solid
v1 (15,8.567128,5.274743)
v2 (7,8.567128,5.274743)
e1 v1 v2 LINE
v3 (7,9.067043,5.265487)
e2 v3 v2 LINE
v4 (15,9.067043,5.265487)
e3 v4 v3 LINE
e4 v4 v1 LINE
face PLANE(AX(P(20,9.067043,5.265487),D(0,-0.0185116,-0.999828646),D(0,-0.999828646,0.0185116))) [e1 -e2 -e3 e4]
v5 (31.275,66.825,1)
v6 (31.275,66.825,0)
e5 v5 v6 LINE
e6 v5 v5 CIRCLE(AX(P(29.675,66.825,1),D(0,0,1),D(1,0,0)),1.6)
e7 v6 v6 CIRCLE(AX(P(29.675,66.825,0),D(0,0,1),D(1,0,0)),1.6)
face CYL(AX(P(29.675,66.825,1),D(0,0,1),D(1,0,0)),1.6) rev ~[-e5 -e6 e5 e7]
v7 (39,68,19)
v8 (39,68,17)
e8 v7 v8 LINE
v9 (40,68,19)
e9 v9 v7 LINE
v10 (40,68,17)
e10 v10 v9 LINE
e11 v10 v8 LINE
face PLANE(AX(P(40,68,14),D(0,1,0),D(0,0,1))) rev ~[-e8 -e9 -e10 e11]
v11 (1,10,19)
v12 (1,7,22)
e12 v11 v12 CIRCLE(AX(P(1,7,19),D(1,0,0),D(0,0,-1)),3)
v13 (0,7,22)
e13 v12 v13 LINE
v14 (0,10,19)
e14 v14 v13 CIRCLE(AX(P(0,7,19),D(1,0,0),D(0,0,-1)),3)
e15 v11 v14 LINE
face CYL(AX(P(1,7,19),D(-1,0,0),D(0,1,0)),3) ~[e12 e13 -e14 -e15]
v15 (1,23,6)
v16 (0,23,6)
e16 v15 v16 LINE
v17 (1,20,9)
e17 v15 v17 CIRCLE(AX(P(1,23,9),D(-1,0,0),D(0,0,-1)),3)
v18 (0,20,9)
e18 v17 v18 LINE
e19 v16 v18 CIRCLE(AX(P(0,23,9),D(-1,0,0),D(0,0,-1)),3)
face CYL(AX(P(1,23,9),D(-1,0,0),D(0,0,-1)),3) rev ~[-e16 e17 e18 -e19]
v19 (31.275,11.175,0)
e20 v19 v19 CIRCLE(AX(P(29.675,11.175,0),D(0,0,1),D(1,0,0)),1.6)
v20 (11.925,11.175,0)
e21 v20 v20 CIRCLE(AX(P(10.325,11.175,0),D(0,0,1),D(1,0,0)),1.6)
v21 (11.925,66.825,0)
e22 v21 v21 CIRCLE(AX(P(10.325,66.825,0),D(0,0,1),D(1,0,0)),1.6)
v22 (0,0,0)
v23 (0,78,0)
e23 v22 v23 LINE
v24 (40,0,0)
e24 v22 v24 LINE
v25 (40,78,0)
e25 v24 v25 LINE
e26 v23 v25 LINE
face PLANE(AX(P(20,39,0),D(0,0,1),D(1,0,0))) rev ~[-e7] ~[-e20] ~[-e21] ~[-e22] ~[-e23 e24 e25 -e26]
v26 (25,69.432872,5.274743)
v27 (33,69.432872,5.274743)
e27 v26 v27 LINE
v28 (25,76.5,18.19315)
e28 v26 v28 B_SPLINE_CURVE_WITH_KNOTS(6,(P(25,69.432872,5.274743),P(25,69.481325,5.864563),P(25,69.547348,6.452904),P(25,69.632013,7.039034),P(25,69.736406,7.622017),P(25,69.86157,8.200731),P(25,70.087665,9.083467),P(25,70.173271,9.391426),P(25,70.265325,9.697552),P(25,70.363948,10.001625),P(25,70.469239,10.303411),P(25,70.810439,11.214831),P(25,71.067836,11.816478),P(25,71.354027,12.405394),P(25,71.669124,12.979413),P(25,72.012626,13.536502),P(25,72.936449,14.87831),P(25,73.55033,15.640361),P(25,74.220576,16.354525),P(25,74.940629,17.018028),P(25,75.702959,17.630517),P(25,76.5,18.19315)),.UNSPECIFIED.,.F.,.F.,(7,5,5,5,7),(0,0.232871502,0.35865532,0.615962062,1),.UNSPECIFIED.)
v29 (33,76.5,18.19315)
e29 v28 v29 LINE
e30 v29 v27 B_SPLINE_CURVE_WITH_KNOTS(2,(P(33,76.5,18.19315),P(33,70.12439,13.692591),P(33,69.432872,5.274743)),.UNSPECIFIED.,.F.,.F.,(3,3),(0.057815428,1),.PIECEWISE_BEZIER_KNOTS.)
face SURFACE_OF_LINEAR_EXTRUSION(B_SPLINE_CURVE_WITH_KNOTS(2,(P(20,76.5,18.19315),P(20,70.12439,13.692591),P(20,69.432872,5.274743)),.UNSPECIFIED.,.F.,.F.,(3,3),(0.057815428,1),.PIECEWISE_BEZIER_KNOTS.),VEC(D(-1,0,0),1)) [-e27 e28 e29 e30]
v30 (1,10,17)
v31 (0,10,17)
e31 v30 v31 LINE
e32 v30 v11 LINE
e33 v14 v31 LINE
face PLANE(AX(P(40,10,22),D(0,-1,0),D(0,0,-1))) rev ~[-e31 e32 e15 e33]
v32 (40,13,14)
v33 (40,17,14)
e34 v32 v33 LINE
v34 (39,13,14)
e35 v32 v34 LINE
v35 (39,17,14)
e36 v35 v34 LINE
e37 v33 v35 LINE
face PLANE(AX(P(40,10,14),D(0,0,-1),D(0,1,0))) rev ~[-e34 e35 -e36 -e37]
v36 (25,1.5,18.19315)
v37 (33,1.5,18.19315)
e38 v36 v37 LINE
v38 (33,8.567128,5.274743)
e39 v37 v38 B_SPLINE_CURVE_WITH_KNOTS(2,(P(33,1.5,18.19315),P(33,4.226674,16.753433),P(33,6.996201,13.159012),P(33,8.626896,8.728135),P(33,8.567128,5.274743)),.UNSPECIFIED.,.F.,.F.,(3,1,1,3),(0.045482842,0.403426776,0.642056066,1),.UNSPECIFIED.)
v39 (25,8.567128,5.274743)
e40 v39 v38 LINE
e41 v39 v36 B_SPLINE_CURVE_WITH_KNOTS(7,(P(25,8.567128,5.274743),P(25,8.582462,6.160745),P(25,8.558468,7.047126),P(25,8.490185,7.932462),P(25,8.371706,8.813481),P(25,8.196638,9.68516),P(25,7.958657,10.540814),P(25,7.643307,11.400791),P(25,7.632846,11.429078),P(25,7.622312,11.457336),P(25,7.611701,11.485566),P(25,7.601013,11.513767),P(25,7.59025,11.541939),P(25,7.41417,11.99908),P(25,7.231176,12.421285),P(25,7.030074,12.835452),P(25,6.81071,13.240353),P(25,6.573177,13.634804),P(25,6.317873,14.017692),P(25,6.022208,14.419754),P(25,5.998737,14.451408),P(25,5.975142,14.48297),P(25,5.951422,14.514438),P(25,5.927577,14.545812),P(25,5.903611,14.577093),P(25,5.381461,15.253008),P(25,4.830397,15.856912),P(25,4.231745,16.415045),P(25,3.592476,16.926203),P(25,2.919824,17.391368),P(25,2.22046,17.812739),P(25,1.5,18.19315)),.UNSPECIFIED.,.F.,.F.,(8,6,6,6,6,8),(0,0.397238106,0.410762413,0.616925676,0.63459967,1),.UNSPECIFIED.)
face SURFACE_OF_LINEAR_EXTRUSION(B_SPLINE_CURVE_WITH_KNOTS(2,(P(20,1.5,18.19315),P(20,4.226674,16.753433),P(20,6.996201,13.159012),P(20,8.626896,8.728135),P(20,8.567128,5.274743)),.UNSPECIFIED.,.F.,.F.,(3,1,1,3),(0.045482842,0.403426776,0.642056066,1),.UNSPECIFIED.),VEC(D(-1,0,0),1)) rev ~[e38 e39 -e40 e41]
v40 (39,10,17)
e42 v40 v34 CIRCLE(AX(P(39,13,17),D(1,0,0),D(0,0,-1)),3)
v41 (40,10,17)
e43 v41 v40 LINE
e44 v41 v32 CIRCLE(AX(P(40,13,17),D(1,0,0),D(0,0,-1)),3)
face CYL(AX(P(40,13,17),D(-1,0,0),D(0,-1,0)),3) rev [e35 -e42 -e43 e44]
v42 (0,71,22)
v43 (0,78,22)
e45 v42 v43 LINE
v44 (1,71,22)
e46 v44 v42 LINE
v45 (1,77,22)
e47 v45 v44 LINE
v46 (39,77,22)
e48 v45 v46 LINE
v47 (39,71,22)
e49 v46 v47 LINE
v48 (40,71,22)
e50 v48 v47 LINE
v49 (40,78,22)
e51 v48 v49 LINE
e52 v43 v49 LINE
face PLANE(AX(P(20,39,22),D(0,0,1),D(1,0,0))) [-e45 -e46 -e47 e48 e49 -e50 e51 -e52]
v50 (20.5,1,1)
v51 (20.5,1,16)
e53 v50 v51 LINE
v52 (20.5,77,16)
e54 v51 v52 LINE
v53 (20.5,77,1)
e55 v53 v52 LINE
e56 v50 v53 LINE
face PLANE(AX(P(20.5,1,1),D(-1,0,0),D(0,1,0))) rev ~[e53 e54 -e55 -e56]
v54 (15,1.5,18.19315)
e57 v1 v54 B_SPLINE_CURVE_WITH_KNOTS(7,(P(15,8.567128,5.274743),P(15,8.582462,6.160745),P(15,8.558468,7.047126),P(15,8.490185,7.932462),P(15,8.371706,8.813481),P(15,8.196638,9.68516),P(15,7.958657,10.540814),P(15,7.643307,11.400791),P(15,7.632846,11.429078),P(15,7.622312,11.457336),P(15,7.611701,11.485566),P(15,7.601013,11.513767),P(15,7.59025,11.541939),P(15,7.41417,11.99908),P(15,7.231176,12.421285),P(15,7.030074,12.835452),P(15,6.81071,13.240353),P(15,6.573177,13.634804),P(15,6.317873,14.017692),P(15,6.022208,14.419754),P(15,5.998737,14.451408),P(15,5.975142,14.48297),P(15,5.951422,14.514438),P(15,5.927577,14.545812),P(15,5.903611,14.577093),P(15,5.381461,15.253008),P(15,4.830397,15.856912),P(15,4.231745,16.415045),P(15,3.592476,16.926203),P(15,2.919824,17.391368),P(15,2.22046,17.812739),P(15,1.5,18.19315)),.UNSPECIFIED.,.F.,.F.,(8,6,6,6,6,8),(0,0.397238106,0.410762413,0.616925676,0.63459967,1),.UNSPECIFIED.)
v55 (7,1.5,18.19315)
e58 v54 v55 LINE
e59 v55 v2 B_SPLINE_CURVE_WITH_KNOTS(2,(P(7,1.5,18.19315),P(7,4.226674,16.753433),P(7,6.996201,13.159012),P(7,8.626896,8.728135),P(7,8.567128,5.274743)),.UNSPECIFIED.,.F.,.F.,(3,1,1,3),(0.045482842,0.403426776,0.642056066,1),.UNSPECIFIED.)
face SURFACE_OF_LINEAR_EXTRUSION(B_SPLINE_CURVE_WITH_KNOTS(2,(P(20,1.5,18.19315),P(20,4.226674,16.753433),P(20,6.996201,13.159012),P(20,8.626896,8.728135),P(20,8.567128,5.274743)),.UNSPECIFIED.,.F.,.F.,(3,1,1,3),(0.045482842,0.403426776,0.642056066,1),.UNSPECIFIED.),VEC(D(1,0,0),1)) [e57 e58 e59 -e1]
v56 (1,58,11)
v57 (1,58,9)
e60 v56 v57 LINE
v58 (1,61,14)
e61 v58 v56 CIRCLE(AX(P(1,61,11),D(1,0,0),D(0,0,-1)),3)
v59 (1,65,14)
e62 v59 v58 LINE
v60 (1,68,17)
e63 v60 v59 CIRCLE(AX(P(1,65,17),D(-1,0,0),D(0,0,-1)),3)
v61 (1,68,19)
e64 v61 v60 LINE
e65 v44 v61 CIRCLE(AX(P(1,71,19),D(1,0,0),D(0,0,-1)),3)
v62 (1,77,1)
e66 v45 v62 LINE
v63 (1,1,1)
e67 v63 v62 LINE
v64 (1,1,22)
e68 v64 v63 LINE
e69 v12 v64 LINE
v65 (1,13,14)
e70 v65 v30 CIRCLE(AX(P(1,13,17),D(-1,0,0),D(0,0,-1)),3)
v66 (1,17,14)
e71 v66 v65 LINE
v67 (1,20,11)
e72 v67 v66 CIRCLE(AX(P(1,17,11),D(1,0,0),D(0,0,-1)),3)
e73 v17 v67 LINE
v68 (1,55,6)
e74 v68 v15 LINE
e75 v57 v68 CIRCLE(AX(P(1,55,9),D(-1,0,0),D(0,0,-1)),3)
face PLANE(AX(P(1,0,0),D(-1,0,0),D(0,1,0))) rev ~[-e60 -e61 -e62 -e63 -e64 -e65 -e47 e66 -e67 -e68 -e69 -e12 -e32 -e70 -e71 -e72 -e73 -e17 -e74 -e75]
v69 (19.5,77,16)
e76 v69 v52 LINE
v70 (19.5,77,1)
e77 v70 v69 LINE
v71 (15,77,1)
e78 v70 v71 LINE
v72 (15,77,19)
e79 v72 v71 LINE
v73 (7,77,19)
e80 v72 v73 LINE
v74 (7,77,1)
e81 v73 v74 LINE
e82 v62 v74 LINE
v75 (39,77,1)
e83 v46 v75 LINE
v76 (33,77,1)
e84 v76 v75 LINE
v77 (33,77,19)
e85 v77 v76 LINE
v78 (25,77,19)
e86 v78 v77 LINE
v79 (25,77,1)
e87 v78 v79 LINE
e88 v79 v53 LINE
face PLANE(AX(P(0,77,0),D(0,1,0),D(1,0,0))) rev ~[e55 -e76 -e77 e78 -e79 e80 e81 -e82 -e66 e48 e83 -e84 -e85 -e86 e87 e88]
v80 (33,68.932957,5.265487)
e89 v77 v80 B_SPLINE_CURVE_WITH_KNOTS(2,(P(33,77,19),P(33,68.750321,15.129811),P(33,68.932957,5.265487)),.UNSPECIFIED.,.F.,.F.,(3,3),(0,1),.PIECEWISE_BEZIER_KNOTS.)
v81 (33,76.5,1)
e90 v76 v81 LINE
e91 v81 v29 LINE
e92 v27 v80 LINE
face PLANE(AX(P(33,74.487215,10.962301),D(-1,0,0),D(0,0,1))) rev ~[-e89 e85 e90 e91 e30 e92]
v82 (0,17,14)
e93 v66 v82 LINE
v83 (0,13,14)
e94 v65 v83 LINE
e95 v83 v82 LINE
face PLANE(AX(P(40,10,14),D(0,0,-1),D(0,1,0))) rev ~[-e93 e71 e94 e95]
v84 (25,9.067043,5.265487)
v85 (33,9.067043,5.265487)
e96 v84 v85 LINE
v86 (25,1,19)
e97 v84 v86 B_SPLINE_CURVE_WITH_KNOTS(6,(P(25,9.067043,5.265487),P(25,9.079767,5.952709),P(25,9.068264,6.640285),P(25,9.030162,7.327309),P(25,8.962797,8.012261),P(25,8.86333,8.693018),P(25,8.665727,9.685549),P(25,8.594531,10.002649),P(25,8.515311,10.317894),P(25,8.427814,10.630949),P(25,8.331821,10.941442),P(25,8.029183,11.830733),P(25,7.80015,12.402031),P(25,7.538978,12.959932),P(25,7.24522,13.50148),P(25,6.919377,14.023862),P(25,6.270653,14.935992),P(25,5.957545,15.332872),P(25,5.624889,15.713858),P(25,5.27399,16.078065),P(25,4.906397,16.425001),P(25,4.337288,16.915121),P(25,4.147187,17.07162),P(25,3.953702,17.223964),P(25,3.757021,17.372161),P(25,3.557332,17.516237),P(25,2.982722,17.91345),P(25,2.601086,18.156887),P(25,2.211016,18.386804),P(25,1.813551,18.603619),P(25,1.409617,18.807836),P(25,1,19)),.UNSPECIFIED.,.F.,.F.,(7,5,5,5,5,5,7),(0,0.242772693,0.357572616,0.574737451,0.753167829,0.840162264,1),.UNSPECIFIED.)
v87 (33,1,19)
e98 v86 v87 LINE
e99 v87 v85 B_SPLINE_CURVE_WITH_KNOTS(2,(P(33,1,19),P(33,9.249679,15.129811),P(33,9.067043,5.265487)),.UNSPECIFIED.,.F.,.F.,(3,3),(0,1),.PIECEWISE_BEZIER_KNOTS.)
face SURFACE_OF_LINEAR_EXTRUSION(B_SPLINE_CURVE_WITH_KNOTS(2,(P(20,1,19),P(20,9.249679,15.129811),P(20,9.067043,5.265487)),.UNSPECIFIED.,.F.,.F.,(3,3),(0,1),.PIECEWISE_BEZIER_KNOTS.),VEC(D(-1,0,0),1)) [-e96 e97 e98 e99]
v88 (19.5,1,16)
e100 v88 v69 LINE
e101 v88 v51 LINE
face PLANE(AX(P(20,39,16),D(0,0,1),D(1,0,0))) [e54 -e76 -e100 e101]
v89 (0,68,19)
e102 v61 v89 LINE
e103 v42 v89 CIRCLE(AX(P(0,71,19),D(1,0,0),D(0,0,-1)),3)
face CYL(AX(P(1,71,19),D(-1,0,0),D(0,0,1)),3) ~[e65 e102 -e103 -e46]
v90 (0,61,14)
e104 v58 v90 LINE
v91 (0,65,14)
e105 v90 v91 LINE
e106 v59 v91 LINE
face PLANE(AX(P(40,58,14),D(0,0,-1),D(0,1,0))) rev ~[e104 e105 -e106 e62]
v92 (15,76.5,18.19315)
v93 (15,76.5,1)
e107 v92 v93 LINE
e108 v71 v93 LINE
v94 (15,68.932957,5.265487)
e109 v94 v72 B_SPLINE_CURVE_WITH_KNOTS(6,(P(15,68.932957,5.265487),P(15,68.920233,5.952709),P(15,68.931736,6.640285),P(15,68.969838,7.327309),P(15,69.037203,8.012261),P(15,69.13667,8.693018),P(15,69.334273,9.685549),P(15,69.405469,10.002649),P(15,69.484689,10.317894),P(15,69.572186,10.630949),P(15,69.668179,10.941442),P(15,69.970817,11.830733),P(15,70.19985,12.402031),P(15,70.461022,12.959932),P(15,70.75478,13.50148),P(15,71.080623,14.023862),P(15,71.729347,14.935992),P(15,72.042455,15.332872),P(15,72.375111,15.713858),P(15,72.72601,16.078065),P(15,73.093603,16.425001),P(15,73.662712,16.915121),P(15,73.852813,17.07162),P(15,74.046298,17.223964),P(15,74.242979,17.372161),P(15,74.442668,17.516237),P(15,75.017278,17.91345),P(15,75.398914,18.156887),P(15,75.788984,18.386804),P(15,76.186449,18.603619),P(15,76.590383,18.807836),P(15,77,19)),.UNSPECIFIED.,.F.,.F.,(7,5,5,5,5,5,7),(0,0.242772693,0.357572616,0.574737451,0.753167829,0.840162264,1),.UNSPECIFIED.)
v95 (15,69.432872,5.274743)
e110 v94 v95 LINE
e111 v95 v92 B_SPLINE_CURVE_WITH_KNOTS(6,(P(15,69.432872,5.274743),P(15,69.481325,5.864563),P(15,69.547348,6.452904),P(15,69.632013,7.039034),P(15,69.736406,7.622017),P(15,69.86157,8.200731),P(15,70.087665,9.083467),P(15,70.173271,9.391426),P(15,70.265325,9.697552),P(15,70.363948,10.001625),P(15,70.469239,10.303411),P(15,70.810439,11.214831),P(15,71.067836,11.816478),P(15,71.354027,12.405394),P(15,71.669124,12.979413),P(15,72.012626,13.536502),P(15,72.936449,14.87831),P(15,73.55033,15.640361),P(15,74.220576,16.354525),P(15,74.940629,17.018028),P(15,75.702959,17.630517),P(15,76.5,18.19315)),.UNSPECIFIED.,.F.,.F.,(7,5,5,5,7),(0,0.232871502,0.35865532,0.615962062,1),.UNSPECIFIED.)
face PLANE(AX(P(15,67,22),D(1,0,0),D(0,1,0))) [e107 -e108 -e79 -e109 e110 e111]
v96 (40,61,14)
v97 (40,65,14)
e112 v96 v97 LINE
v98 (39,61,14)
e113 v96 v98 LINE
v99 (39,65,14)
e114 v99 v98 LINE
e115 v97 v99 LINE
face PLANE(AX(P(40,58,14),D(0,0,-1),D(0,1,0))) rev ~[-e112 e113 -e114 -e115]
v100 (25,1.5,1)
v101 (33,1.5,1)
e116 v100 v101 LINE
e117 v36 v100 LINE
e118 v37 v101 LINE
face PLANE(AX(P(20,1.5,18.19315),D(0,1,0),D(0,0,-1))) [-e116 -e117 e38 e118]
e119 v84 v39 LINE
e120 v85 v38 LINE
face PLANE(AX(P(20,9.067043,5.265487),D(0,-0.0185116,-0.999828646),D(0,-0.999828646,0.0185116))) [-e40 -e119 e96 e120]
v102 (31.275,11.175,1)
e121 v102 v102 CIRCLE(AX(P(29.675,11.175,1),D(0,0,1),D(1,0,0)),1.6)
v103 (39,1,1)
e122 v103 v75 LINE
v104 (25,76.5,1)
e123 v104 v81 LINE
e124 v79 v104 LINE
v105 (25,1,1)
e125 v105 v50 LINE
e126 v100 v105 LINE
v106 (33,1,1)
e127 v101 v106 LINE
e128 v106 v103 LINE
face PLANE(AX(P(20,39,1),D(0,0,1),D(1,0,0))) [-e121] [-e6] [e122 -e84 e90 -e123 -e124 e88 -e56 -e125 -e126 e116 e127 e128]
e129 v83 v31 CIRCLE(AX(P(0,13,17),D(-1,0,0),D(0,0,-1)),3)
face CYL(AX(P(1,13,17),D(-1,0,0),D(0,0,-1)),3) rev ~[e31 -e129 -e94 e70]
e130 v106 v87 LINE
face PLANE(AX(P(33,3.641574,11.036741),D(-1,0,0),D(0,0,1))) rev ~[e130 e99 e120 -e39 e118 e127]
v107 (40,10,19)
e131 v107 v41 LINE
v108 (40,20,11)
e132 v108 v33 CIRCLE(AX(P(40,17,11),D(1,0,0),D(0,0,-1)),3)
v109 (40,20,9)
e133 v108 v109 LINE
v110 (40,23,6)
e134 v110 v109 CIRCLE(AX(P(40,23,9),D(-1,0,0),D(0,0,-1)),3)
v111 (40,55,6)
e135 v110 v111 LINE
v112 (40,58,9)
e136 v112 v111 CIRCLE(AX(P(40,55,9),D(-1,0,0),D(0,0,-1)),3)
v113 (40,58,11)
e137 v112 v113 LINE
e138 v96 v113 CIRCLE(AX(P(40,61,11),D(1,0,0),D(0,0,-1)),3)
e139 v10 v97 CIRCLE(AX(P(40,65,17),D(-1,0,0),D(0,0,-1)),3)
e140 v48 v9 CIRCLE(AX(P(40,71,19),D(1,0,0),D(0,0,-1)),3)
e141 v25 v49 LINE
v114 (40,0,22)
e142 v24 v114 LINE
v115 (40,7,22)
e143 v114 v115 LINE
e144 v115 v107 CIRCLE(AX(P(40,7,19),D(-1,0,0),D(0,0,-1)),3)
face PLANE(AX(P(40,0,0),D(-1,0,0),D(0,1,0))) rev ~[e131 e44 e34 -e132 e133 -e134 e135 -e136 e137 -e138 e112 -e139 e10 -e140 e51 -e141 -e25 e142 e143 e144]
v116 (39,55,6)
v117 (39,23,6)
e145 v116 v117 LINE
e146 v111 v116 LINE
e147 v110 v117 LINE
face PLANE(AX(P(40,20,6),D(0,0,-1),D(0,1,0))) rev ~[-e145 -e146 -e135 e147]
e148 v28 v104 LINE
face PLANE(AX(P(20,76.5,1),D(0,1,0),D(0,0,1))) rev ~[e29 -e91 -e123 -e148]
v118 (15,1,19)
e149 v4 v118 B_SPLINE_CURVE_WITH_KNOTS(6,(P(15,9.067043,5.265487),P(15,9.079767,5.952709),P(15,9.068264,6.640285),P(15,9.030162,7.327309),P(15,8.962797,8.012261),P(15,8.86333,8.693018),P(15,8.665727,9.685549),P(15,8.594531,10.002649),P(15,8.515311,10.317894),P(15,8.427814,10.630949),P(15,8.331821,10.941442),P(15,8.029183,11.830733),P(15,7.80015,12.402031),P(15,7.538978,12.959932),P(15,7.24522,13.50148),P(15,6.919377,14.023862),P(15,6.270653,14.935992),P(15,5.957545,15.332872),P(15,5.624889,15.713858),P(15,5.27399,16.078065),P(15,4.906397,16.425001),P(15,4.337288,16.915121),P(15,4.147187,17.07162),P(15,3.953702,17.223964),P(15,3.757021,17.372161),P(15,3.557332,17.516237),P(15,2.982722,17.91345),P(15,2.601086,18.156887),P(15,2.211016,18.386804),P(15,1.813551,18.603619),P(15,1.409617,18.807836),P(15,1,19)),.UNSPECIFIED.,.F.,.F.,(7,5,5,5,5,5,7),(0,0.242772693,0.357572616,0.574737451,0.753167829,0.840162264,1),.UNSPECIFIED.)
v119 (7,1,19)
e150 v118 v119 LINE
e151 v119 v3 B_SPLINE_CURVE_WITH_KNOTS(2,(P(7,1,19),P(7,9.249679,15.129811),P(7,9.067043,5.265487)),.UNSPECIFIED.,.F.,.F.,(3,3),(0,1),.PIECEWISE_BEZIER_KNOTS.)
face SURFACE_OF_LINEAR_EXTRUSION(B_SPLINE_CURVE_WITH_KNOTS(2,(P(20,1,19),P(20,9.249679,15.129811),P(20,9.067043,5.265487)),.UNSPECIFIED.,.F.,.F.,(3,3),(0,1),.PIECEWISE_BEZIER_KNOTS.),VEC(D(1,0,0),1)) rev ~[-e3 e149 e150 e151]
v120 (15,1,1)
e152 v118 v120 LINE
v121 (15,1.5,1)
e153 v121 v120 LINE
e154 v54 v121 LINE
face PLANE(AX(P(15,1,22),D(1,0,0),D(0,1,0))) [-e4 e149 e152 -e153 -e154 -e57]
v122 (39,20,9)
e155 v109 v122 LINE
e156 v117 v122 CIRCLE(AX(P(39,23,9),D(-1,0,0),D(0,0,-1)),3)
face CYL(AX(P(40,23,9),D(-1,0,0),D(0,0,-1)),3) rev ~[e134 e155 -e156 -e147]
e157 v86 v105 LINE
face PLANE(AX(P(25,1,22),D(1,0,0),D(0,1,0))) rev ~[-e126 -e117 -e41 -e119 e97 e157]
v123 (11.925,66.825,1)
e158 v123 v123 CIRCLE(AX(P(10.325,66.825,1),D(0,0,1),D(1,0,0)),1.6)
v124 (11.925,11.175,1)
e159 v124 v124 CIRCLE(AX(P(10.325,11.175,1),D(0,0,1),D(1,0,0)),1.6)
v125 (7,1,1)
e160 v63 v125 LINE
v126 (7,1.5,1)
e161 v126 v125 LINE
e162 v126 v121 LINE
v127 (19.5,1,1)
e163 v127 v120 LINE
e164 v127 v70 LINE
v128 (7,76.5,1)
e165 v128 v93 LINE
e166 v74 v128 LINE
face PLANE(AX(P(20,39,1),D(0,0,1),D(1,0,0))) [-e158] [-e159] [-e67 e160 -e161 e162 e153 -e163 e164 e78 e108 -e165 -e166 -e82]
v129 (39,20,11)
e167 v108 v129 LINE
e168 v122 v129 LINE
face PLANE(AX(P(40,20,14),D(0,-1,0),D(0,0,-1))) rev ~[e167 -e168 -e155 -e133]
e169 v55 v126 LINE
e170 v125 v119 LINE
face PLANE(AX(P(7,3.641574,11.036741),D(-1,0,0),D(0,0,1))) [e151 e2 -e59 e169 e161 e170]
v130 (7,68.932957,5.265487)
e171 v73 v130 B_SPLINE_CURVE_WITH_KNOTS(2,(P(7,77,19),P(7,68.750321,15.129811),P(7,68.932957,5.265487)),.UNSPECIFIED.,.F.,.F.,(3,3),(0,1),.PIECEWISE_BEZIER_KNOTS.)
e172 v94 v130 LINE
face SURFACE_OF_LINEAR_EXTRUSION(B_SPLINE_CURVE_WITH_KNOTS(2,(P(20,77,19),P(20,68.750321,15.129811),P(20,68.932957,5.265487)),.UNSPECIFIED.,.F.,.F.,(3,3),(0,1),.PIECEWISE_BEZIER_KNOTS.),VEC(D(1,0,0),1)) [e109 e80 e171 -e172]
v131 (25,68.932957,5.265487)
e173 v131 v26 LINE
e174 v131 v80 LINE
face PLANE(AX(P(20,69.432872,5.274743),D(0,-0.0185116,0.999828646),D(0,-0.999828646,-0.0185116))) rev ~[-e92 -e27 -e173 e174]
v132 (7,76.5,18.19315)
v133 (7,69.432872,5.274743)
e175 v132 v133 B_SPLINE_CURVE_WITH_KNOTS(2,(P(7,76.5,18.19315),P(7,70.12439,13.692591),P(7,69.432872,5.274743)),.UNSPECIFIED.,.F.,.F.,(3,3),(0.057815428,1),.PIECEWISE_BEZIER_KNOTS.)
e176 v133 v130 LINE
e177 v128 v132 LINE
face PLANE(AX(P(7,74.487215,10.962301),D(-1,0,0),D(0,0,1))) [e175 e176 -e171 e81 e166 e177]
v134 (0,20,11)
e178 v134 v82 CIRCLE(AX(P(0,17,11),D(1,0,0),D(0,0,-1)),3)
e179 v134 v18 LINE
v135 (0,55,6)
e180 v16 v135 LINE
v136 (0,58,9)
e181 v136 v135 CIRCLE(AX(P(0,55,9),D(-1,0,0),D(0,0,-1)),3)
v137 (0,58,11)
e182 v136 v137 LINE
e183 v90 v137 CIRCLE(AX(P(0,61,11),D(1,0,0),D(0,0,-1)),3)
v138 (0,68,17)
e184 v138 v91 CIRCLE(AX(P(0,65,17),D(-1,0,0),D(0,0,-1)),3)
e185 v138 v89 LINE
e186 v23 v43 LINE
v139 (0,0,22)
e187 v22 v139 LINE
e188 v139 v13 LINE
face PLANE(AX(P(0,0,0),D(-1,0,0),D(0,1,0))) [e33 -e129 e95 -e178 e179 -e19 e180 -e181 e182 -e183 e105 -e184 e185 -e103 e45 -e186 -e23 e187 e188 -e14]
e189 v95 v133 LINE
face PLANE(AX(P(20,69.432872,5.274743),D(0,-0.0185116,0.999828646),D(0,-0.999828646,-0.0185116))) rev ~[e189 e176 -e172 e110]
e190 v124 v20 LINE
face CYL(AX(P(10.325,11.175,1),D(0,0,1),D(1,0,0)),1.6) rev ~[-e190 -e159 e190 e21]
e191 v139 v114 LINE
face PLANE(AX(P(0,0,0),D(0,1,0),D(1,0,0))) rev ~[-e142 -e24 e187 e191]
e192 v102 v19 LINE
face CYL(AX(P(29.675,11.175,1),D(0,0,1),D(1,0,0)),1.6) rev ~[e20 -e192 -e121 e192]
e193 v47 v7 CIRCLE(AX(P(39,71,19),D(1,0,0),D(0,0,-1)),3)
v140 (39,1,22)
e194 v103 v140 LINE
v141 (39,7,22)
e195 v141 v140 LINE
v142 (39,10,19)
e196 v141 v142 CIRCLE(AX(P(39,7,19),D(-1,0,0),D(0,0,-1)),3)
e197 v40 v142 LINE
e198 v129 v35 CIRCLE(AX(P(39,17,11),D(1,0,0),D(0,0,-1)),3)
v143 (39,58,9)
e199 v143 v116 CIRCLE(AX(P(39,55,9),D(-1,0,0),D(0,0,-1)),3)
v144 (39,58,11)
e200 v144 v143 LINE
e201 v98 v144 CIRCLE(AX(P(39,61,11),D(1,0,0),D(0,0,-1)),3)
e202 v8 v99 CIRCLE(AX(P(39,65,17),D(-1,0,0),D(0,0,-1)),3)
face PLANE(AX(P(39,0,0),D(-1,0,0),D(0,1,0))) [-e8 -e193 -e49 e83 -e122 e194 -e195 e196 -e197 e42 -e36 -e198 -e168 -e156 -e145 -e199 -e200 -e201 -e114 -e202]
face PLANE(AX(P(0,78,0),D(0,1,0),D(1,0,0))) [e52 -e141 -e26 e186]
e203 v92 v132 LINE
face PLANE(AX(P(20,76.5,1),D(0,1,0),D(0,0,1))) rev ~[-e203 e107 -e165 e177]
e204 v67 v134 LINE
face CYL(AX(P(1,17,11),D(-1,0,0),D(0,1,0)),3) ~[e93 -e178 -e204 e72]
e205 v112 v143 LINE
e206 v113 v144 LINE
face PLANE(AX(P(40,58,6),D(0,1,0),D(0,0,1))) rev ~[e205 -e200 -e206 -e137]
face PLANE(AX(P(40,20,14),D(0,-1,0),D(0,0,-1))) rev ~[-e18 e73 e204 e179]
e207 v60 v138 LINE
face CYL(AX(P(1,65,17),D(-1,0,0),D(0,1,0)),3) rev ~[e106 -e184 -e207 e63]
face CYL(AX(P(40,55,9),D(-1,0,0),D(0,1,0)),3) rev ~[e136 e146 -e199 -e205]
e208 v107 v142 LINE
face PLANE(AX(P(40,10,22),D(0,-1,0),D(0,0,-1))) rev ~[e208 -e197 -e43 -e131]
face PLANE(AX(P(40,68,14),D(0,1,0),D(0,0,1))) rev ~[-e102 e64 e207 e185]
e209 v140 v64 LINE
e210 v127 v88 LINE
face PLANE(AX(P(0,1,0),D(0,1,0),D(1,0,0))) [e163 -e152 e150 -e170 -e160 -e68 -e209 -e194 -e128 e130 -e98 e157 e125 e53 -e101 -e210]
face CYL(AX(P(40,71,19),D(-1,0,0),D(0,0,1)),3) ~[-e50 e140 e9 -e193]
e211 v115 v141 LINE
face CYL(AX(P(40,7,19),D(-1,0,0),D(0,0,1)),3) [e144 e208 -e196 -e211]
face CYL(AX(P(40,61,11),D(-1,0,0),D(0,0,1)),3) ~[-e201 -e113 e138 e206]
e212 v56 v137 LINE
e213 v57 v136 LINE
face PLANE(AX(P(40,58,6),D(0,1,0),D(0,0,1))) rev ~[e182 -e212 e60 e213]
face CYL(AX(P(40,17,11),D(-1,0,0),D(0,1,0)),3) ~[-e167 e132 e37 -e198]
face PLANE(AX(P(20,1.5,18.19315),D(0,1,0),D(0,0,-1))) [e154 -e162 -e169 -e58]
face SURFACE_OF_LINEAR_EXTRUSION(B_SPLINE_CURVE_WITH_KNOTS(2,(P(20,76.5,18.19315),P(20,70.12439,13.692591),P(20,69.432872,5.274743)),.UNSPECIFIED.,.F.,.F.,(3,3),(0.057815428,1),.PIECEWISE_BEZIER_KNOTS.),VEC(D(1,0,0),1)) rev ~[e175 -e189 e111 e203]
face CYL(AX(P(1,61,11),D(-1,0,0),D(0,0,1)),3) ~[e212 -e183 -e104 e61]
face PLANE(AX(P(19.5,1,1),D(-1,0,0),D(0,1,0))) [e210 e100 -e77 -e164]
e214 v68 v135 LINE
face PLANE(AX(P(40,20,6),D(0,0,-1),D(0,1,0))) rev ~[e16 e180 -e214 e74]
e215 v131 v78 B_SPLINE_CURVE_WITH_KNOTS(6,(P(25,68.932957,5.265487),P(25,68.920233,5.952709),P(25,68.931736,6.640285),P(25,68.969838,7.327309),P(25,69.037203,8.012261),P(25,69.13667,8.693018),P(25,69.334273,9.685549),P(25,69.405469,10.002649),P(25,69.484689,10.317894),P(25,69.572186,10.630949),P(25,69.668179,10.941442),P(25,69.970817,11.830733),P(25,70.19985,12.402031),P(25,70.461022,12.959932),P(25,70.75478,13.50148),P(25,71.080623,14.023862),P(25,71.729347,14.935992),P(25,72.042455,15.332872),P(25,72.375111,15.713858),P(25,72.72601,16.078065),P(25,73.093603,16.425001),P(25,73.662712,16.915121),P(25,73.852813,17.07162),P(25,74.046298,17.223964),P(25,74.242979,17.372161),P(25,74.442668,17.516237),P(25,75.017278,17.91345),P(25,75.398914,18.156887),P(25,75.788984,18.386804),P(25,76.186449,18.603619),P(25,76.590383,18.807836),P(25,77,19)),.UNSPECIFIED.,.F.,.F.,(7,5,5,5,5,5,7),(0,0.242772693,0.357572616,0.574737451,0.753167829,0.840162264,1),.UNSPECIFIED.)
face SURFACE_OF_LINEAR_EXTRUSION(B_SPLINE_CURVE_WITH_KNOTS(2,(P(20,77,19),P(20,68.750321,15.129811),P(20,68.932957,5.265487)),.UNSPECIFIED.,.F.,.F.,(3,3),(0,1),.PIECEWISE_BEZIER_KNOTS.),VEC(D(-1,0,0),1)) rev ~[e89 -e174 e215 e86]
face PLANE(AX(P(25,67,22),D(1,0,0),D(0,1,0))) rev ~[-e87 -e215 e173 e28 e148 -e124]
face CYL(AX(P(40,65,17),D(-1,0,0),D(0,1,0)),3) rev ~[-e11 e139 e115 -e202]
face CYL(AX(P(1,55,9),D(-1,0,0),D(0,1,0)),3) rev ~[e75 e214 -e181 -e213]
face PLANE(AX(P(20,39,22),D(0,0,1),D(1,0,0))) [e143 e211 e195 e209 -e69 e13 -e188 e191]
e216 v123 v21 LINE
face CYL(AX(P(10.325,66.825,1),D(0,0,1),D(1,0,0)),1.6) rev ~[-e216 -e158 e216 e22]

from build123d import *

# Parameters (mm, degrees)
SKETCH1_W           = 40
SKETCH1_H           = 78
BOSS_EXTRUDE1_DEPTH = 22
SHELL1_T            = -1
CUT_EXTRUDE1_REACH  = 92.377
FILLET1_R           = 3
BOSS_EXTRUDE2_DEPTH = 13
CUT_EXTRUDE2_REACH  = 92.377
SKETCH4_W           = 10
SKETCH4_H           = 10
SKETCH6_W           = 1
SKETCH6_H           = 76
BOSS_EXTRUDE3_DEPTH = 15
SKETCH7_R           = 1.6
CUT_EXTRUDE3_DEPTH  = 15


with BuildPart() as part:
    # Sketch1 → Boss-Extrude1 (new body)
    with BuildSketch(Plane.XY):
        with Locations((20, 39)):
            Rectangle(SKETCH1_W, SKETCH1_H)
    extrude(amount=BOSS_EXTRUDE1_DEPTH)

    # Shell1
    shell1_openings = [part.faces().sort_by_distance(p)[0] for p in [
        (20, 39, 22),
    ]]
    offset(amount=SHELL1_T, openings=shell1_openings, kind=Kind.INTERSECTION)

    # Cut-Extrude1: up to this face of the body (flat: up to its plane)
    cut_extrude1_end = Plane(part.part.faces().sort_by_distance((0, 39, 11))[0])
    # Sketch2 → Cut-Extrude1 (cut, up to the picked face)
    with BuildSketch(Plane(origin=(40, 0, 0), x_dir=(0, 0, -1), z_dir=(1, 0, 0)), mode=Mode.PRIVATE) as cut_extrude1_sk1:
        Polygon((-22, 10), (-14, 10), (-14, 20), (-6, 20), (-6, 58), (-14, 58), (-14, 68), (-22, 68), align=None)
    cut_extrude1_tool1 = split(extrude(cut_extrude1_sk1.sketch, amount=-CUT_EXTRUDE1_REACH, mode=Mode.PRIVATE), bisect_by=cut_extrude1_end, keep=Keep.BOTH, mode=Mode.PRIVATE)
    add(cut_extrude1_tool1.solids().sort_by(Axis((40, 39, 14.833333), (-1, 0, 0)))[0], mode=Mode.SUBTRACT)

    # Fillet1
    fillet1_edges = [part.edges().sort_by_distance(p)[0] for p in [
        (0.5, 10, 22),
        (0.5, 68, 22),
        (0.5, 68, 14),
        (0.5, 58, 14),
        (0.5, 58, 6),
        (0.5, 20, 6),
        (0.5, 20, 14),
        (0.5, 10, 14),
        (39.5, 10, 22),
        (39.5, 68, 22),
        (39.5, 68, 14),
        (39.5, 58, 14),
        (39.5, 58, 6),
        (39.5, 20, 6),
        (39.5, 20, 14),
        (39.5, 10, 14),
    ]]
    fillet(fillet1_edges, radius=FILLET1_R)

    # Sketch3 → Boss-Extrude2 (add, symmetric)
    with BuildSketch(Plane(origin=(20, 0, 0), x_dir=(0, 0, -1), z_dir=(1, 0, 0))):
        with BuildLine():
            Line((-1, 1), (-19, 1))
            add(Edge.make_bspline(
                [(-19, 1), (-15.129811325, 9.249678545), (-5.265487128, 9.067042822)],
                knots=[0, 0, 0, 1, 1, 1], degree=2))
            Line((-5.265487128, 9.067042822), (-5.274742928, 8.567128499))
            add(Edge.make_bspline(
                [(-18.193150022, 1.5), (-16.753433037, 4.226674383), (-13.159011892, 6.996200729), (-8.728135169, 8.626895855), (-5.274742928, 8.567128499)],
                knots=[0.045482842, 0.045482842, 0.045482842, 0.403426776, 0.642056066, 1, 1, 1], degree=2))
            Line((-18.193150022, 1.5), (-1, 1.5))
            Line((-1, 1.5), (-1, 1))
        make_face()
        with BuildLine():
            Line((-5.274742928, 69.432871501), (-5.265487128, 68.932957178))
            add(Edge.make_bspline(
                [(-19, 77), (-15.129811325, 68.750321455), (-5.265487128, 68.932957178)],
                knots=[0, 0, 0, 1, 1, 1], degree=2))
            Line((-19, 77), (-1, 77))
            Line((-1, 77), (-1, 76.5))
            Line((-1, 76.5), (-18.193150022, 76.5))
            add(Edge.make_bspline(
                [(-18.193150022, 76.5), (-13.692591499, 70.12438977), (-5.274742928, 69.432871501)],
                knots=[0.057815428, 0.057815428, 0.057815428, 1, 1, 1], degree=2))
        make_face()
    extrude(amount=BOSS_EXTRUDE2_DEPTH, both=True)

    # Cut-Extrude2: up to this face of the body (flat: up to its plane)
    cut_extrude2_end = Plane(part.part.faces().sort_by_distance((20, 39, 1))[0])
    # Sketch4 → Cut-Extrude2 (cut, up to the picked face)
    with BuildSketch(Plane.XY.offset(22), mode=Mode.PRIVATE) as cut_extrude2_sk1:
        with Locations((20, 6)):
            Rectangle(SKETCH4_W, SKETCH4_H)
    cut_extrude2_tool1 = split(extrude(cut_extrude2_sk1.sketch, amount=-CUT_EXTRUDE2_REACH, mode=Mode.PRIVATE), bisect_by=cut_extrude2_end, keep=Keep.BOTH, mode=Mode.PRIVATE)
    # Sketch4 → Cut-Extrude2 (cut, up to the picked face)
    with BuildSketch(Plane.XY.offset(22), mode=Mode.PRIVATE) as cut_extrude2_sk2:
        with Locations((20, 72)):
            Rectangle(SKETCH4_W, SKETCH4_H)
    cut_extrude2_tool2 = split(extrude(cut_extrude2_sk2.sketch, amount=-CUT_EXTRUDE2_REACH, mode=Mode.PRIVATE), bisect_by=cut_extrude2_end, keep=Keep.BOTH, mode=Mode.PRIVATE)
    add(cut_extrude2_tool1.solids().sort_by(Axis((20, 6, 22), (0, 0, -1)))[0], mode=Mode.SUBTRACT)
    add(cut_extrude2_tool2.solids().sort_by(Axis((20, 72, 22), (0, 0, -1)))[0], mode=Mode.SUBTRACT)

    # Sketch6 → Boss-Extrude3 (add)
    with BuildSketch(Plane.XY.offset(1)):
        with Locations((20, 39)):
            Rectangle(SKETCH6_W, SKETCH6_H)
    extrude(amount=BOSS_EXTRUDE3_DEPTH)

    # Sketch7 → Cut-Extrude3 (cut)
    with BuildSketch(Plane.XY.offset(1)):
        with Locations((10.325, 11.175)):
            Circle(SKETCH7_R)
        with Locations((10.325, 66.825)):
            Circle(SKETCH7_R)
        with Locations((29.675, 11.175)):
            Circle(SKETCH7_R)
        with Locations((29.675, 66.825)):
            Circle(SKETCH7_R)
    extrude(amount=-CUT_EXTRUDE3_DEPTH, mode=Mode.SUBTRACT)


solid = part.part
